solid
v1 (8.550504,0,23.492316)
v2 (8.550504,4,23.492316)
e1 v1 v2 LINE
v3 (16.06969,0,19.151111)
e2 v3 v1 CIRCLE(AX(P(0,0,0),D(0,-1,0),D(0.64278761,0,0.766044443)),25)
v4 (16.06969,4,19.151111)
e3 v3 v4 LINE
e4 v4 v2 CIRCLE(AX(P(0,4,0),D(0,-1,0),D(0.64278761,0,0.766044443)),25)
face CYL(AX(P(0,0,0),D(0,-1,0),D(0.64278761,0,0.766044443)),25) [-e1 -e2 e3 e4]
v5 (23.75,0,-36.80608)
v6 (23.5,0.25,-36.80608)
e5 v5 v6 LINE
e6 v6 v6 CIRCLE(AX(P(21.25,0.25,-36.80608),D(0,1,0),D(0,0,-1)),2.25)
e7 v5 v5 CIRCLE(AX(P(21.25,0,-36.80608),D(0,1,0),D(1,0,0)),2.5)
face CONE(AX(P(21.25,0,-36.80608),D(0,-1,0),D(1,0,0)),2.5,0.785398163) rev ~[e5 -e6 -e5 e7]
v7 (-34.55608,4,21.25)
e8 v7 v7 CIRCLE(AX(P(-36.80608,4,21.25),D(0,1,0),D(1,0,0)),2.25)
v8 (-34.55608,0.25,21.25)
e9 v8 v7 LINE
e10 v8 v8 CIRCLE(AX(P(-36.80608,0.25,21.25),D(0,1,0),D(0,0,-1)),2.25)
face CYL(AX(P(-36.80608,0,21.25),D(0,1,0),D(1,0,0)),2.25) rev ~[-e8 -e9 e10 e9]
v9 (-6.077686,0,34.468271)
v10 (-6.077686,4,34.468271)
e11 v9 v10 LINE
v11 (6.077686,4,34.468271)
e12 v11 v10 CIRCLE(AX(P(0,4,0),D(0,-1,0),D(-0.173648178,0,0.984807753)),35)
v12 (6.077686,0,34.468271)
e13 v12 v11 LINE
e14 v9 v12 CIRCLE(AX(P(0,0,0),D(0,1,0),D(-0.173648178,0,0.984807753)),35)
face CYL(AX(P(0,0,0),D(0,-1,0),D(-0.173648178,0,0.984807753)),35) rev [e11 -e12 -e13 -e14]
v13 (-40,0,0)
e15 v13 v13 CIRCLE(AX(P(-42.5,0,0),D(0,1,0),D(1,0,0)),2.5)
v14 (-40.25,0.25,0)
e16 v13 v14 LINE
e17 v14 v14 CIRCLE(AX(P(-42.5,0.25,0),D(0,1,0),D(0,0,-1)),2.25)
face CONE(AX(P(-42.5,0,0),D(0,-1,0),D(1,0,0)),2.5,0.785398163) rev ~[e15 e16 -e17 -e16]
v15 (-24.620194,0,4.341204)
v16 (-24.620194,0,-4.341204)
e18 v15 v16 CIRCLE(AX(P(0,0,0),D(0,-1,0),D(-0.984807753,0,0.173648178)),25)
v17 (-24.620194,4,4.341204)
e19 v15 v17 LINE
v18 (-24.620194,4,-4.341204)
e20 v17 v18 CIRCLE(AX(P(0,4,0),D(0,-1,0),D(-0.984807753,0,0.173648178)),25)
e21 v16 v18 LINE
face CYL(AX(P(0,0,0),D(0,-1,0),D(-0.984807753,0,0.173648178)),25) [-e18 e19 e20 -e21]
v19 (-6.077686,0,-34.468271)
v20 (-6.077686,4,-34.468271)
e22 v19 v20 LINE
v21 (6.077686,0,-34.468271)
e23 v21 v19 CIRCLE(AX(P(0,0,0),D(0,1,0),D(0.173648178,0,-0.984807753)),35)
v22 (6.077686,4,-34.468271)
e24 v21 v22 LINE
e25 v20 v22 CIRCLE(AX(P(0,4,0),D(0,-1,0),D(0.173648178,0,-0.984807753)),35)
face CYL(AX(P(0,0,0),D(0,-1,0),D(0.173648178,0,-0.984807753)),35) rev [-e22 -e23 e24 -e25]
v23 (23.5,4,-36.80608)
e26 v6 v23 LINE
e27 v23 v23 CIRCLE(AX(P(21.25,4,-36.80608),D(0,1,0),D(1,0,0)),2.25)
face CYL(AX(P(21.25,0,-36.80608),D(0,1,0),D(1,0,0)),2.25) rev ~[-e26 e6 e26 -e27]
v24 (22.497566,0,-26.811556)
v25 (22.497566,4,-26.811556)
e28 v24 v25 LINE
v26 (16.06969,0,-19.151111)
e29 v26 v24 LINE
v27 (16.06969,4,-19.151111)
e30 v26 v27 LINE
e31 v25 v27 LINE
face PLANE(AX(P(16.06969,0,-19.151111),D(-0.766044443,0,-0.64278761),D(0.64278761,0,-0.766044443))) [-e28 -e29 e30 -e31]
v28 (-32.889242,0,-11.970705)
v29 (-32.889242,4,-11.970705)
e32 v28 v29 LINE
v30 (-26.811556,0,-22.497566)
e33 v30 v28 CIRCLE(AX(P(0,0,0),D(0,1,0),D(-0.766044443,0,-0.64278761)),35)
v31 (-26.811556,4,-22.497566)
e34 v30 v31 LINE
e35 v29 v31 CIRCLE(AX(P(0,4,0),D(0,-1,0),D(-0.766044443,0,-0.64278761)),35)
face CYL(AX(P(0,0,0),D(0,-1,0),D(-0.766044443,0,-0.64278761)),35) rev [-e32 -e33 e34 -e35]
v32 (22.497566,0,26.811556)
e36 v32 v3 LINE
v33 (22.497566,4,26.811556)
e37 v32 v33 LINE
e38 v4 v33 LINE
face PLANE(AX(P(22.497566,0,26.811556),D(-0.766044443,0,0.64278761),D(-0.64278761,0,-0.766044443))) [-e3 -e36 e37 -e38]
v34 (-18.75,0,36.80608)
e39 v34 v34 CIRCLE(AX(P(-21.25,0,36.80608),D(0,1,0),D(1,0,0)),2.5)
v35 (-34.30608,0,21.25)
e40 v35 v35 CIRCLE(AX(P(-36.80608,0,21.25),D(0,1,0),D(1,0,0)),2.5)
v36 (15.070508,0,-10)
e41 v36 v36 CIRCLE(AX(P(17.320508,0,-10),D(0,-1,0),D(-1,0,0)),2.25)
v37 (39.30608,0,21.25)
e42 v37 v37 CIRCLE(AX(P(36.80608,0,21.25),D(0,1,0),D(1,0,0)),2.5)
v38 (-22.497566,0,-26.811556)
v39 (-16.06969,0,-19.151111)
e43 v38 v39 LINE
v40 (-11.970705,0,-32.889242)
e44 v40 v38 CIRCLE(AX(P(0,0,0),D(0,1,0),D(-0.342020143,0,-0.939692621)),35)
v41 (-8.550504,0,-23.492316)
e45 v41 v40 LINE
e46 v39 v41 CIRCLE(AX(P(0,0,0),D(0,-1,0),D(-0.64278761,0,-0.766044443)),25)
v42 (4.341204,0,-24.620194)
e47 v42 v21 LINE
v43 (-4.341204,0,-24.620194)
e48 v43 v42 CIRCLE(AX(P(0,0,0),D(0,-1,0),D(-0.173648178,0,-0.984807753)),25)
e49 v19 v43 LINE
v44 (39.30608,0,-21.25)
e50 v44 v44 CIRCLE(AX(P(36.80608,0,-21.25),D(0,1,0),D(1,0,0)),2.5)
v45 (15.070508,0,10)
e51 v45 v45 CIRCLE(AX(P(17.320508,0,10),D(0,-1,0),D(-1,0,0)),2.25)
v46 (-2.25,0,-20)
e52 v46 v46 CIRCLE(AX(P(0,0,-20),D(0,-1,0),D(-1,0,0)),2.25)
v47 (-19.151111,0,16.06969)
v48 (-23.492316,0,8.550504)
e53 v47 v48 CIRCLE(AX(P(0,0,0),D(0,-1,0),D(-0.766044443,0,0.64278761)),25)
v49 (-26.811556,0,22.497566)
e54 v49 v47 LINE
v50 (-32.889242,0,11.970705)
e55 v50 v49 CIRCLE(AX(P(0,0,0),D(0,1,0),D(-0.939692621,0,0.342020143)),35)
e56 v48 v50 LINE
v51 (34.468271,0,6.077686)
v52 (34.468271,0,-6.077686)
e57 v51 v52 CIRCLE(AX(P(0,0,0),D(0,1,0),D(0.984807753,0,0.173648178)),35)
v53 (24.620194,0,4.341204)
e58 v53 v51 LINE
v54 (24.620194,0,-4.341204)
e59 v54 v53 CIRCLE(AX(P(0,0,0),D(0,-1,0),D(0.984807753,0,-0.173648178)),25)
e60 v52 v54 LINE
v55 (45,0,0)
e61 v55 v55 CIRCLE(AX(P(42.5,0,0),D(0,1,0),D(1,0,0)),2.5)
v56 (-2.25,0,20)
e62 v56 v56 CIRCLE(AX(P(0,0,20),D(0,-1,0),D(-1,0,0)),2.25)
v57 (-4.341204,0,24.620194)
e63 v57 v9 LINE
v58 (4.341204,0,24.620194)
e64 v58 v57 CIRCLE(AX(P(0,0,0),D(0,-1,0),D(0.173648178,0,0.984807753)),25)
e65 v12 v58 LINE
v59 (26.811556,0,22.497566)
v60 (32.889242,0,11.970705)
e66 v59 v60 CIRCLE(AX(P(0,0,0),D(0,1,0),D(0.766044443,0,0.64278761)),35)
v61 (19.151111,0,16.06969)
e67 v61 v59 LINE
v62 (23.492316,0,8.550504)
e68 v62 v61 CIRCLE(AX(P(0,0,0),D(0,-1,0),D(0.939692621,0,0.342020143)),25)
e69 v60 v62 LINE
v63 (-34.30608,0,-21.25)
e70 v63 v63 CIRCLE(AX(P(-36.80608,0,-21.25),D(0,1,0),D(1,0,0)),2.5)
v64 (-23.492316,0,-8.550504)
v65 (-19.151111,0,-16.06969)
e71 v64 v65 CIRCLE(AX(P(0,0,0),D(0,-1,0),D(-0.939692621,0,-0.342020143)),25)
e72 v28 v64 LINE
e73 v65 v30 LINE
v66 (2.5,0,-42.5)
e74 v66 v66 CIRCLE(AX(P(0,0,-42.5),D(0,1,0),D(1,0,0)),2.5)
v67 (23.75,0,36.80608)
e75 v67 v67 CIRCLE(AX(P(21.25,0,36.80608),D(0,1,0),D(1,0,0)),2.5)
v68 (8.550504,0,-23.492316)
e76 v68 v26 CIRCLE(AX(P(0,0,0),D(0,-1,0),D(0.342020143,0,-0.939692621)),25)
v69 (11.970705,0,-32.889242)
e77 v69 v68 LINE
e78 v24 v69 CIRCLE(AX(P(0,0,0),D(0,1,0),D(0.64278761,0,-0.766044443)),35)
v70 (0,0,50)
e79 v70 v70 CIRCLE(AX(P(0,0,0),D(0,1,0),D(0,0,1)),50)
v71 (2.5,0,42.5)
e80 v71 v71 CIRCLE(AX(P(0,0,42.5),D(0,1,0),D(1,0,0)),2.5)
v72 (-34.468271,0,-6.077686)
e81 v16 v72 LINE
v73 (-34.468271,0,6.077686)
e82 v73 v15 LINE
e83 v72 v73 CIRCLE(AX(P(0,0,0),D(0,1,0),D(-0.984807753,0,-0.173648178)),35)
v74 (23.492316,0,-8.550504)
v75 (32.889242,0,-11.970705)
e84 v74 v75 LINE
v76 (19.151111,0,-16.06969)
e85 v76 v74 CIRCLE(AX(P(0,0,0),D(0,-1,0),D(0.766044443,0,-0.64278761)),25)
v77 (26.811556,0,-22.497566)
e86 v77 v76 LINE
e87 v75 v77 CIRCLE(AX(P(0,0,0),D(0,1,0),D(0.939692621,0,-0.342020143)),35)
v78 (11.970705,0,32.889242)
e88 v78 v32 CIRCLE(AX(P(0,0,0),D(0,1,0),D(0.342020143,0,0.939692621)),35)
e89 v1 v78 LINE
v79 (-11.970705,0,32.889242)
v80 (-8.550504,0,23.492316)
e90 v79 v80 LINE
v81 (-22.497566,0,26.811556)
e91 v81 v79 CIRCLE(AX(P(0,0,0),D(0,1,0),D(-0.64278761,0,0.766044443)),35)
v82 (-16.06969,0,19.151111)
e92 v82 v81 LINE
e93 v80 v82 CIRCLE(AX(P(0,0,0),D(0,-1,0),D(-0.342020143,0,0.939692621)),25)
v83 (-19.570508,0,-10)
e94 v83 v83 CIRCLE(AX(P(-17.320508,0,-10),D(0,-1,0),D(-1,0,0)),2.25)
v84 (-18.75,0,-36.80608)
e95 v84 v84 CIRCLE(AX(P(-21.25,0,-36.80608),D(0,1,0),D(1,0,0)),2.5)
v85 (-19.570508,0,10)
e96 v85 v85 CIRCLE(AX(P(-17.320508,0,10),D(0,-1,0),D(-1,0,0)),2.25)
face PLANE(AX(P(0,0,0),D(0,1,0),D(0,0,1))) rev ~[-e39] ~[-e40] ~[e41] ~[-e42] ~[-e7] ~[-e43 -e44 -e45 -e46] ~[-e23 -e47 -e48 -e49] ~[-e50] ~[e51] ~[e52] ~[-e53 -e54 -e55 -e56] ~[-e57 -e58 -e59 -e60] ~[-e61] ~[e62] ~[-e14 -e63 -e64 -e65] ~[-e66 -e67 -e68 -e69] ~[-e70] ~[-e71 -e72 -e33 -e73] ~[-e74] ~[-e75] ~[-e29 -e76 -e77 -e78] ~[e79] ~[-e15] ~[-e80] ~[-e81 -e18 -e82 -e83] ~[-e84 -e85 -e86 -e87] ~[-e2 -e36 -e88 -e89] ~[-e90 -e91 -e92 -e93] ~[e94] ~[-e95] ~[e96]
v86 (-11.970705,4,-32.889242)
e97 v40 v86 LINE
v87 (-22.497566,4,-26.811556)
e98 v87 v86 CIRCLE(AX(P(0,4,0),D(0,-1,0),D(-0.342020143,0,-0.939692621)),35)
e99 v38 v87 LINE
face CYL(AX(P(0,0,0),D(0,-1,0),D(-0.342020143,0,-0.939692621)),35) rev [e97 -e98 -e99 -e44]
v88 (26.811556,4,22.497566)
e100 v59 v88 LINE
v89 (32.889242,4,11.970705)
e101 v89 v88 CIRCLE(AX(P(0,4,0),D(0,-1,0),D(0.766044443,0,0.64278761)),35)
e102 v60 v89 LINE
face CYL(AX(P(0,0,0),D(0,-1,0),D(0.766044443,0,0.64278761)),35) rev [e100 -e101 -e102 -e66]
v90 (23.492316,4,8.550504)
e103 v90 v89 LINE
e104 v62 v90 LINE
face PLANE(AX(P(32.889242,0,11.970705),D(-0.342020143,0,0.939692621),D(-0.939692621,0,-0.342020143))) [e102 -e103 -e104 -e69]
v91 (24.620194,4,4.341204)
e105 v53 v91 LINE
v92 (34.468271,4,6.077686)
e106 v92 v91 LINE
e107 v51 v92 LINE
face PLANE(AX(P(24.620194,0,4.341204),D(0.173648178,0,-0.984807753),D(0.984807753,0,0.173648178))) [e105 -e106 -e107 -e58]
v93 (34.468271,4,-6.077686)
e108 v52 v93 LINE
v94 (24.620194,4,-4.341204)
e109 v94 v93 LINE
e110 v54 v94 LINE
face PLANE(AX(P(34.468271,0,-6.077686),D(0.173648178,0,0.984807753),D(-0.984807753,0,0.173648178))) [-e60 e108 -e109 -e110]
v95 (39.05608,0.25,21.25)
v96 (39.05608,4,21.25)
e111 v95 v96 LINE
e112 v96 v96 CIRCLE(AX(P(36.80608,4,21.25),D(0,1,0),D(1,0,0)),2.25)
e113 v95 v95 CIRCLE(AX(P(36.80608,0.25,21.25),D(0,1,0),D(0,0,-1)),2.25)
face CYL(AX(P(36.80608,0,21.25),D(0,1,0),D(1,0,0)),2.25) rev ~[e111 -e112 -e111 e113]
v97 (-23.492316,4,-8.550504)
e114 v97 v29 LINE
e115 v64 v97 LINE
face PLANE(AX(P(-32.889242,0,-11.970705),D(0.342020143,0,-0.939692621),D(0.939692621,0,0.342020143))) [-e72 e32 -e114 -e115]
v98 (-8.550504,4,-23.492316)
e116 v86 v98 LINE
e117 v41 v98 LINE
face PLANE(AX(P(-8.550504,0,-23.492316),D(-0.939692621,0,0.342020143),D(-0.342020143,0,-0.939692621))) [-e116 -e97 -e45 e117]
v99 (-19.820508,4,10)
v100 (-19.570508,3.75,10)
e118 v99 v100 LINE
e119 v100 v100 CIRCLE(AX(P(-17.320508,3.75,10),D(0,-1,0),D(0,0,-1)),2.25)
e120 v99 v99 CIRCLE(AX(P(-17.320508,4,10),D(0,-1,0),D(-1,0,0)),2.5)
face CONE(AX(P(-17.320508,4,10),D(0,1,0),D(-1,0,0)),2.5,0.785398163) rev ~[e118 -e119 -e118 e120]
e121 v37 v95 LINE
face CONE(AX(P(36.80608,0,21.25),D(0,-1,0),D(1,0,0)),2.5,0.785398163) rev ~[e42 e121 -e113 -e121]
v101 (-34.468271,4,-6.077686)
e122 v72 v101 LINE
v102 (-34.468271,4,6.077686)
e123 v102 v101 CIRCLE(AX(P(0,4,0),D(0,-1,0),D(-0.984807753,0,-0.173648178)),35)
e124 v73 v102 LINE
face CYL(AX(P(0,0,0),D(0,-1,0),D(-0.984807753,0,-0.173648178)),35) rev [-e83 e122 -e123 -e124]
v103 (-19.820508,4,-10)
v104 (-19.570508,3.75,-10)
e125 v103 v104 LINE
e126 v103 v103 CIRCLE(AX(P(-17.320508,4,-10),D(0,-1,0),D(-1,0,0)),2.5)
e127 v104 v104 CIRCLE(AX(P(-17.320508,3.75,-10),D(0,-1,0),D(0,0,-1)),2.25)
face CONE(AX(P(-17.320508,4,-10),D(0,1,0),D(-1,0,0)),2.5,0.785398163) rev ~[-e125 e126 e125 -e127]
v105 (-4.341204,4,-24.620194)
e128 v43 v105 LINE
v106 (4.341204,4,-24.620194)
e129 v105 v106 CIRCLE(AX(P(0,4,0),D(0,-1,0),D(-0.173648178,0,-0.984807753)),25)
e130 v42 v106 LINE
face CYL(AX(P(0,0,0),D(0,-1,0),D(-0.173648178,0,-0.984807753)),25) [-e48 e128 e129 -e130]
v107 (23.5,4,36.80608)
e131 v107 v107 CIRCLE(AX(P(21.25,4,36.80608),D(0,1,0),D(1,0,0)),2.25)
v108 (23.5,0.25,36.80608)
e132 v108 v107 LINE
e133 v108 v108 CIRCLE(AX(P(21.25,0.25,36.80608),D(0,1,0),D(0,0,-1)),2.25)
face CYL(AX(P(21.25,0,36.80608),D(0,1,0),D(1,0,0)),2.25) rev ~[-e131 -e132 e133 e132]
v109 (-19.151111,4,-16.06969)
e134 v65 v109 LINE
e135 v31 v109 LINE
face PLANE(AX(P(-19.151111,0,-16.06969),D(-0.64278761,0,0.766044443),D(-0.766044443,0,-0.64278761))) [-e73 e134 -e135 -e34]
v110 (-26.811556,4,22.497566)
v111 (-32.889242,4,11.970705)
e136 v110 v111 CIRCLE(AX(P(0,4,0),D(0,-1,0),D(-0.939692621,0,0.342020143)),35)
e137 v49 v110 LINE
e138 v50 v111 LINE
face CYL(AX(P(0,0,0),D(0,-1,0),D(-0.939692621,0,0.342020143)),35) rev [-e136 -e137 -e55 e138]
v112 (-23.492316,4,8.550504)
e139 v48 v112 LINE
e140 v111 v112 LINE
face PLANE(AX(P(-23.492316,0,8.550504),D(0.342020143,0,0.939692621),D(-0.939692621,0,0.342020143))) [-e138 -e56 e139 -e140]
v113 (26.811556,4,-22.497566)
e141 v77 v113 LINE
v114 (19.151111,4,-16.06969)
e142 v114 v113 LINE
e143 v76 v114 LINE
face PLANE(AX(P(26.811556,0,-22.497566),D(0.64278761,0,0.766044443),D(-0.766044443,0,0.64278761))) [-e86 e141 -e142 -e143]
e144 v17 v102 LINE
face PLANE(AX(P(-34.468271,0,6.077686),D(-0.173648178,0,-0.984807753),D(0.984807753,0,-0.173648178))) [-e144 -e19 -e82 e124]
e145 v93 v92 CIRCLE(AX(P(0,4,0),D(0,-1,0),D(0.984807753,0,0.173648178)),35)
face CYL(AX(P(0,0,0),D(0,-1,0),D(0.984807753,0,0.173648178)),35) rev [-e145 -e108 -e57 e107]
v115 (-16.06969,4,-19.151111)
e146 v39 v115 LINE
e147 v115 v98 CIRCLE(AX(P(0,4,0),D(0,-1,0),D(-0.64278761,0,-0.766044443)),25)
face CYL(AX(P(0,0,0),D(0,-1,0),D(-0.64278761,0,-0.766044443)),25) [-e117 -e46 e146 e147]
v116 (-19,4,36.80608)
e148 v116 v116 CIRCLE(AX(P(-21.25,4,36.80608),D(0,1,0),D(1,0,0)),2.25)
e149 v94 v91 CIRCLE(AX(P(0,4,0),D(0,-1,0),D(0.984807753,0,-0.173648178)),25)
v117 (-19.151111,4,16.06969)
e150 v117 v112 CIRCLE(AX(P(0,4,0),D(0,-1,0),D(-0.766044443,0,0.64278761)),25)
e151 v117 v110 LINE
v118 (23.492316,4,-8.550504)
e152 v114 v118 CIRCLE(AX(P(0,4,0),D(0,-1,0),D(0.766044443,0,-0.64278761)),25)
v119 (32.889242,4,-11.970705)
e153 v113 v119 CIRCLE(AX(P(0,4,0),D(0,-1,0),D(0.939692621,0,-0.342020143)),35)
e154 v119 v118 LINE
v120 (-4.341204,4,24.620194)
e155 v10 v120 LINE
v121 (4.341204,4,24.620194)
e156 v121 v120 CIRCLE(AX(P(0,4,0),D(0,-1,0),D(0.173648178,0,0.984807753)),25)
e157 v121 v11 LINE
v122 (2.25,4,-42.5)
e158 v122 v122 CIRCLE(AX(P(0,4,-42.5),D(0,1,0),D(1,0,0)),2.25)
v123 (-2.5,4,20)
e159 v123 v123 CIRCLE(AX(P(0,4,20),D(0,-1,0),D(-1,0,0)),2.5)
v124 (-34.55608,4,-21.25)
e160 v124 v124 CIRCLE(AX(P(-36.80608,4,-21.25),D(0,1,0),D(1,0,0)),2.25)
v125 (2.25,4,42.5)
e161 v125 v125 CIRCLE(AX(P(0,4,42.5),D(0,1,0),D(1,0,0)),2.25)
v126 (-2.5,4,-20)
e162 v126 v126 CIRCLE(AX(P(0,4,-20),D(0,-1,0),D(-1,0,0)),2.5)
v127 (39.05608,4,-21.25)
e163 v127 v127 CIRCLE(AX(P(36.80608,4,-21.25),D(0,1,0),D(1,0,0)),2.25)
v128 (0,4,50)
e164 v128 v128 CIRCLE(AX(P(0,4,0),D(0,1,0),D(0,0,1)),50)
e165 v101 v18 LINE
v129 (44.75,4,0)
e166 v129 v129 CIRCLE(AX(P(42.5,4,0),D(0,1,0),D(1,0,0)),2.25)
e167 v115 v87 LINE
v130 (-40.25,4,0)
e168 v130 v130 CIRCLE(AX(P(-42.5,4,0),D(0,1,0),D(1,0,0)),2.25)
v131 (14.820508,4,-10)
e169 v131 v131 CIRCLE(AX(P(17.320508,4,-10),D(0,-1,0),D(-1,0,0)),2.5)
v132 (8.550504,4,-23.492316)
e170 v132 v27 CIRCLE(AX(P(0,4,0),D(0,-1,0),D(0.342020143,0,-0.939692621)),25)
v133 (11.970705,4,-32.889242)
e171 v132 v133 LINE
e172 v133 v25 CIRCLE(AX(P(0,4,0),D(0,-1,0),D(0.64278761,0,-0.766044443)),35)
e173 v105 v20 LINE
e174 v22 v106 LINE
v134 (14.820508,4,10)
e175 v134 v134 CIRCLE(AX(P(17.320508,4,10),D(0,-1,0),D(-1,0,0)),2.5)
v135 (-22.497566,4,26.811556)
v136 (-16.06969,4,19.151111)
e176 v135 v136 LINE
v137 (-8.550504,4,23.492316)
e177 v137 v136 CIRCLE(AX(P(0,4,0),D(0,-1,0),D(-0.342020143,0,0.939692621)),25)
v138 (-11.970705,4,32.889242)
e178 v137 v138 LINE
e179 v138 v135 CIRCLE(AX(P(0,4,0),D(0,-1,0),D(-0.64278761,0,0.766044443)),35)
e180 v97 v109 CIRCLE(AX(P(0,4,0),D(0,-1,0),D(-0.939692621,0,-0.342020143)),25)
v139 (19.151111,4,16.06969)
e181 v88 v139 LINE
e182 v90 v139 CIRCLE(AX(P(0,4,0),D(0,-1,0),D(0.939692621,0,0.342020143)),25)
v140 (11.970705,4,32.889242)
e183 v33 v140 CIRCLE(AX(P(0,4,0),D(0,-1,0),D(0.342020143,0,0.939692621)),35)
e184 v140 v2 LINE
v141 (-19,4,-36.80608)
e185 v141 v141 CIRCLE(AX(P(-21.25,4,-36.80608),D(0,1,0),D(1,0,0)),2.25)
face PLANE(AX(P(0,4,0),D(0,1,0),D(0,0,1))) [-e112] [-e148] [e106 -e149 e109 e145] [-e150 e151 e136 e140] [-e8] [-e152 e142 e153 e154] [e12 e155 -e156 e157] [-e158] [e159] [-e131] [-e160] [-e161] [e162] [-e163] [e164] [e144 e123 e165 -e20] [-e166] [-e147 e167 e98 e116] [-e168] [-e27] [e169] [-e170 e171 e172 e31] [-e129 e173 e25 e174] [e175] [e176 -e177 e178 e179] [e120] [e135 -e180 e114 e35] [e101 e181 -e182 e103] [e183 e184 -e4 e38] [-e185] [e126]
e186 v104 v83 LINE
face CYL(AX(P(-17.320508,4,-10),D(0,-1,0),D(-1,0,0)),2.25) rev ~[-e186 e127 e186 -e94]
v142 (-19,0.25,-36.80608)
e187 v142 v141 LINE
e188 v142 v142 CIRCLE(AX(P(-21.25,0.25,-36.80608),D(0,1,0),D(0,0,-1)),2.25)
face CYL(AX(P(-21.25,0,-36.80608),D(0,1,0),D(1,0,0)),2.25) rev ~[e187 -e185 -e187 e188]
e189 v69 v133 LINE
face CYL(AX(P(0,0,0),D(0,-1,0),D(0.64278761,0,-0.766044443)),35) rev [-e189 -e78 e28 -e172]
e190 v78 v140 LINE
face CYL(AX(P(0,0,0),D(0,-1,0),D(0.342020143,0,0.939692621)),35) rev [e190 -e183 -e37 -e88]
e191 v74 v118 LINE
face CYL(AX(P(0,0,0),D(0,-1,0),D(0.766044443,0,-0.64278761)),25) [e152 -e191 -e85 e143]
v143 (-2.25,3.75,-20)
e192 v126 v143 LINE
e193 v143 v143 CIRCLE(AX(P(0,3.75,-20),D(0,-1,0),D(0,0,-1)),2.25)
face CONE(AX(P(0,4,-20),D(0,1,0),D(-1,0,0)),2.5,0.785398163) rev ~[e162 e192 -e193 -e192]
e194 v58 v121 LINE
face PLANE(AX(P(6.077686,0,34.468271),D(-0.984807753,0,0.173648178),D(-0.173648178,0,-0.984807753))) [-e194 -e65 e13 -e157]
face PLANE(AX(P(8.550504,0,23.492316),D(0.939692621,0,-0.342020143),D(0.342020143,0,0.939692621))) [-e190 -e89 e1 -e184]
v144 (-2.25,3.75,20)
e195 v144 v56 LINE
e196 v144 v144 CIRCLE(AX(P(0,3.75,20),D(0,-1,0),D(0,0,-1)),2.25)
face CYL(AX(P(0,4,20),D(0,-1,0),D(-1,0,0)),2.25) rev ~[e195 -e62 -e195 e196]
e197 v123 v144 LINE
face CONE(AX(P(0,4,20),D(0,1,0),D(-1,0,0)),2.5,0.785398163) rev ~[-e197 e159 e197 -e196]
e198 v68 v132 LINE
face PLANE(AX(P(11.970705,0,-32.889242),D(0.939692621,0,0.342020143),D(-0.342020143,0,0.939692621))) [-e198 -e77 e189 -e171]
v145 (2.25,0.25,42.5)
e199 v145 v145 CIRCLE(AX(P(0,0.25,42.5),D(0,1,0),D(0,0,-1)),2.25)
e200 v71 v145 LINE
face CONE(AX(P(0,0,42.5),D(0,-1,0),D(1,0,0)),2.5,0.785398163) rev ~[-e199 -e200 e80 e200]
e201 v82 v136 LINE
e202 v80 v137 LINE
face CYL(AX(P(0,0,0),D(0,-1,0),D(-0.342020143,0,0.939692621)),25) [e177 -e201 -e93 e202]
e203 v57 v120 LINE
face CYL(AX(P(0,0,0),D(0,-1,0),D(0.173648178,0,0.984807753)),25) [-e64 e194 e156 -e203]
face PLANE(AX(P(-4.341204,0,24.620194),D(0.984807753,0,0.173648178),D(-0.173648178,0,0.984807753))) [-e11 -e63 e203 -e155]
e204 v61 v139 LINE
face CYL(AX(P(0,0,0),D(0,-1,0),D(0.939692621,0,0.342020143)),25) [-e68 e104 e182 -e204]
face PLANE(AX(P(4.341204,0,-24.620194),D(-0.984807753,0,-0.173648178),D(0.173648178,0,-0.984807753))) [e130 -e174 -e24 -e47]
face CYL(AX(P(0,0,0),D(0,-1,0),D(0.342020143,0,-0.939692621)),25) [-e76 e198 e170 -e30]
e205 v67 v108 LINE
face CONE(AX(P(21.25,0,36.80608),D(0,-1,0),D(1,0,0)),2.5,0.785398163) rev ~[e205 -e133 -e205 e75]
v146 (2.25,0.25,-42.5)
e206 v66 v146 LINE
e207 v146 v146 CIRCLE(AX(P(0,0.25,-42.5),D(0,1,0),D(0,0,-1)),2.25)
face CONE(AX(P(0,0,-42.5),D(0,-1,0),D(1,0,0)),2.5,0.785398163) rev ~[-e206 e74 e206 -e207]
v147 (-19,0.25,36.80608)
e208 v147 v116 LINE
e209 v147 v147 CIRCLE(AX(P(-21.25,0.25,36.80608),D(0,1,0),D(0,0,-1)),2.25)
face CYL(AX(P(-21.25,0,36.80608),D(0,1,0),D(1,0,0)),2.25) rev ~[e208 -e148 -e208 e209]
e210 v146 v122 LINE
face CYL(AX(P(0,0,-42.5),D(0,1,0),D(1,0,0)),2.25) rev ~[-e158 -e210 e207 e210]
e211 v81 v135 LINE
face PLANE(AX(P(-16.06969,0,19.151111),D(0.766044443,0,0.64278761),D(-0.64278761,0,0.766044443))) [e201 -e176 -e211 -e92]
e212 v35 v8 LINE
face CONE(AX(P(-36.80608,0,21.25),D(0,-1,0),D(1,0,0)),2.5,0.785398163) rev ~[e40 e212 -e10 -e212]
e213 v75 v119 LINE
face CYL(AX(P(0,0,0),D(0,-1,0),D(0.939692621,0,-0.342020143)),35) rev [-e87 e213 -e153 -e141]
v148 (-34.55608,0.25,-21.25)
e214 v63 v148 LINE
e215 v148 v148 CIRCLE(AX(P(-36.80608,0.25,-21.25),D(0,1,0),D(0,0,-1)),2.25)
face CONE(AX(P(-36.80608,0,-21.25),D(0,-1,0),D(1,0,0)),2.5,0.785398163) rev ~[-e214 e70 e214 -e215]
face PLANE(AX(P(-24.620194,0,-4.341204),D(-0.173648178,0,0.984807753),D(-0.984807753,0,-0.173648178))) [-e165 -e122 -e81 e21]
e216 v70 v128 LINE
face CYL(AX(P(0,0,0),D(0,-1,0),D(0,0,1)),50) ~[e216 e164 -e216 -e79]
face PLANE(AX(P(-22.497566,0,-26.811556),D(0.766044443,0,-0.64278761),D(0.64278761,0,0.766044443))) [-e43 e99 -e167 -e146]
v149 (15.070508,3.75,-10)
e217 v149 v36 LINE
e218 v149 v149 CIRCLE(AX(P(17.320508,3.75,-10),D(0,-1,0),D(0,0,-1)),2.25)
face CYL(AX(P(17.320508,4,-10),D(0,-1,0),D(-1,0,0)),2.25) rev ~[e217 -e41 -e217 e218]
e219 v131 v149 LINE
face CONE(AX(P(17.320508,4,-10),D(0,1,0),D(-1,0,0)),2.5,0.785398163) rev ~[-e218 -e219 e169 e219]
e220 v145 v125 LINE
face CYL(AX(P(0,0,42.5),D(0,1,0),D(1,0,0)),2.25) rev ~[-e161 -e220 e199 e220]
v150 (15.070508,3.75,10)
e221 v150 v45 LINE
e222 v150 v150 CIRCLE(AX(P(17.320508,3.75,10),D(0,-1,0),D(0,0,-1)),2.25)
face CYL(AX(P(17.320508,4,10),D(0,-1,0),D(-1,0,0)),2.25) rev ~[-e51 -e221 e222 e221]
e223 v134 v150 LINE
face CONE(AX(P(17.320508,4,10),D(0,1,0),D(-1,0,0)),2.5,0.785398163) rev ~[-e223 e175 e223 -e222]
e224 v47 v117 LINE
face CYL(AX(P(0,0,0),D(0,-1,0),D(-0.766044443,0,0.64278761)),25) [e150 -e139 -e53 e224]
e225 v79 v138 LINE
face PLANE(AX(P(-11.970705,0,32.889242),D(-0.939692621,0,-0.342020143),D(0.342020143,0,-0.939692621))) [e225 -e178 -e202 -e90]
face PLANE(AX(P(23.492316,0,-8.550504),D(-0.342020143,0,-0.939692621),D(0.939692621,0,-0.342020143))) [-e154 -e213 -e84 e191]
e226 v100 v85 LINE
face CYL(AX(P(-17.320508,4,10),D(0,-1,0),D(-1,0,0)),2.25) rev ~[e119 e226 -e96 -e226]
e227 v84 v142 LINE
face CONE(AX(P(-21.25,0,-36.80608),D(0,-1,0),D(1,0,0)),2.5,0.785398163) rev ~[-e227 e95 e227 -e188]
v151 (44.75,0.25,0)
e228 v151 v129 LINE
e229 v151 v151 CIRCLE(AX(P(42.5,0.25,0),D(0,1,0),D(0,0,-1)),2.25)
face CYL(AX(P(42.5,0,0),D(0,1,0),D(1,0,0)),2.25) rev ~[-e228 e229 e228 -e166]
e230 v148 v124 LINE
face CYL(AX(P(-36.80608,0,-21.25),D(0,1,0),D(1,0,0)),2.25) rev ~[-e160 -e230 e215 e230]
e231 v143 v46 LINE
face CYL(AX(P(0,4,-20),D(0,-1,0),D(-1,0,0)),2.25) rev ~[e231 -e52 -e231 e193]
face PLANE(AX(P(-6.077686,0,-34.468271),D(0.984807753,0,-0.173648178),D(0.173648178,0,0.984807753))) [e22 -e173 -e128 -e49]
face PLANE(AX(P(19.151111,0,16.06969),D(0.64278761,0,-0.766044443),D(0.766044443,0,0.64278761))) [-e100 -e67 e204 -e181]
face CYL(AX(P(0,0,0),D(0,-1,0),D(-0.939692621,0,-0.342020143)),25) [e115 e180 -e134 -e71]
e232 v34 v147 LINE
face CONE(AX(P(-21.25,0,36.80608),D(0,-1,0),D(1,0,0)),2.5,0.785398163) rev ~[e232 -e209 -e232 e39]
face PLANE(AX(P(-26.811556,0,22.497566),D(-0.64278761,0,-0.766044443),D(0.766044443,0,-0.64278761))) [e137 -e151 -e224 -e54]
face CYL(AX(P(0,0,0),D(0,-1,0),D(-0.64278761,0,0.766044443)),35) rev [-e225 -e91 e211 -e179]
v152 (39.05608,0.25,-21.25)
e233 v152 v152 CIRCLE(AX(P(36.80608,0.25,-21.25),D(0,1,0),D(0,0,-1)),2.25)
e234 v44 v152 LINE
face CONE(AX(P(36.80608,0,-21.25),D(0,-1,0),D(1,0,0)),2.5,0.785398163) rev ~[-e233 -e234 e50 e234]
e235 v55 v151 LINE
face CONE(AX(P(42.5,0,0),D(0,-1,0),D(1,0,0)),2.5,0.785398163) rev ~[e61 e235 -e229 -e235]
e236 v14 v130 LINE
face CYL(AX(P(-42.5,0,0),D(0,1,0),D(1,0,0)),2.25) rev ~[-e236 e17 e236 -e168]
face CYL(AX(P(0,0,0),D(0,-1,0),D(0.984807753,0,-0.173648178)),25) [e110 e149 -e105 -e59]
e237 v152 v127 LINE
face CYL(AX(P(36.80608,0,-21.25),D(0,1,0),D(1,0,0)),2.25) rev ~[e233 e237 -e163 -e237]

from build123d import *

# Parameters (mm, degrees)
SKETCH_1_R                  = 50
EXTRUDE_1_DEPTH             = 4
CUT_EXTRUDE_2_DEPTH         = 71.823724839
HOLE_WIZARD_M41_D           = 4.5
HOLE_WIZARD_M41_CSINK_D     = 5
HOLE_WIZARD_M41_CSINK_ANGLE = 90
HOLE_WIZARD_M42_D           = 4.5
HOLE_WIZARD_M42_CSINK_D     = 5
HOLE_WIZARD_M42_CSINK_ANGLE = 90


with BuildPart() as part:
    # Эскиз1 → Бобышка-Вытянуть1 (new body)
    with BuildSketch(Plane(origin=(0, 0, 0), x_dir=(1, 0, 0), z_dir=(0, 1, 0))):
        with Locations(Location((0, 0, 0), (0, 0, 270))):
            Circle(SKETCH_1_R)
    extrude(amount=EXTRUDE_1_DEPTH)

    # Эскиз2 → Вырез-Вытянуть2 (cut, through all)
    with BuildSketch(Plane(origin=(0, 0, 0), x_dir=(1, 0, 0), z_dir=(0, 1, 0))):
        with BuildLine():
            Line((8.550503583, -23.49231552), (11.970705016, -32.889241728))
            ThreePointArc((11.970705016, -32.889241728), (17.5, -30.310889132), (22.497566339, -26.811555509))
            Line((22.497566339, -26.811555509), (16.069690242, -19.151111078))
            ThreePointArc((16.069690242, -19.151111078), (12.5, -21.650635095), (8.550503583, -23.49231552))
        make_face()
        with BuildLine():
            Line((-4.341204442, -24.620193825), (-6.077686218, -34.468271355))
            ThreePointArc((-6.077686218, -34.468271355), (0, -35), (6.077686218, -34.468271355))
            Line((6.077686218, -34.468271355), (4.341204442, -24.620193825))
            ThreePointArc((4.341204442, -24.620193825), (0, -25), (-4.341204442, -24.620193825))
        make_face()
        with BuildLine():
            Line((23.49231552, 8.550503583), (32.889241728, 11.970705016))
            ThreePointArc((32.889241728, 11.970705016), (30.310889132, 17.5), (26.811555509, 22.497566339))
            Line((26.811555509, 22.497566339), (19.151111078, 16.069690242))
            ThreePointArc((19.151111078, 16.069690242), (21.650635095, 12.5), (23.49231552, 8.550503583))
        make_face()
        with BuildLine():
            Line((24.620193825, -4.341204442), (34.468271355, -6.077686218))
            ThreePointArc((34.468271355, -6.077686218), (35, 0), (34.468271355, 6.077686218))
            Line((34.468271355, 6.077686218), (24.620193825, 4.341204442))
            ThreePointArc((24.620193825, 4.341204442), (25, 0), (24.620193825, -4.341204442))
        make_face()
        with BuildLine():
            Line((19.151111078, -16.069690242), (26.811555509, -22.497566339))
            ThreePointArc((26.811555509, -22.497566339), (30.310889132, -17.5), (32.889241728, -11.970705016))
            Line((32.889241728, -11.970705016), (23.49231552, -8.550503583))
            ThreePointArc((23.49231552, -8.550503583), (21.650635095, -12.5), (19.151111078, -16.069690242))
        make_face()
        with BuildLine():
            Line((-8.550503583, 23.49231552), (-11.970705016, 32.889241728))
            ThreePointArc((-11.970705016, 32.889241728), (-17.5, 30.310889132), (-22.497566339, 26.811555509))
            Line((-22.497566339, 26.811555509), (-16.069690242, 19.151111078))
            ThreePointArc((-16.069690242, 19.151111078), (-12.5, 21.650635095), (-8.550503583, 23.49231552))
        make_face()
        with BuildLine():
            Line((4.341204442, 24.620193825), (6.077686218, 34.468271355))
            ThreePointArc((6.077686218, 34.468271355), (0, 35), (-6.077686218, 34.468271355))
            Line((-6.077686218, 34.468271355), (-4.341204442, 24.620193825))
            ThreePointArc((-4.341204442, 24.620193825), (0, 25), (4.341204442, 24.620193825))
        make_face()
        with BuildLine():
            Line((16.069690242, 19.151111078), (22.497566339, 26.811555509))
            ThreePointArc((22.497566339, 26.811555509), (17.5, 30.310889132), (11.970705016, 32.889241728))
            Line((11.970705016, 32.889241728), (8.550503583, 23.49231552))
            ThreePointArc((8.550503583, 23.49231552), (12.5, 21.650635095), (16.069690242, 19.151111078))
        make_face()
        with BuildLine():
            Line((-16.069690242, -19.151111078), (-22.497566339, -26.811555509))
            ThreePointArc((-22.497566339, -26.811555509), (-17.5, -30.310889132), (-11.970705016, -32.889241728))
            Line((-11.970705016, -32.889241728), (-8.550503583, -23.49231552))
            ThreePointArc((-8.550503583, -23.49231552), (-12.5, -21.650635095), (-16.069690242, -19.151111078))
        make_face()
        with BuildLine():
            Line((-23.49231552, -8.550503583), (-32.889241728, -11.970705016))
            ThreePointArc((-32.889241728, -11.970705016), (-30.310889132, -17.5), (-26.811555509, -22.497566339))
            Line((-26.811555509, -22.497566339), (-19.151111078, -16.069690242))
            ThreePointArc((-19.151111078, -16.069690242), (-21.650635095, -12.5), (-23.49231552, -8.550503583))
        make_face()
        with BuildLine():
            Line((-24.620193825, 4.341204442), (-34.468271355, 6.077686218))
            ThreePointArc((-34.468271355, 6.077686218), (-35, 0), (-34.468271355, -6.077686218))
            Line((-34.468271355, -6.077686218), (-24.620193825, -4.341204442))
            ThreePointArc((-24.620193825, -4.341204442), (-25, 0), (-24.620193825, 4.341204442))
        make_face()
        with BuildLine():
            Line((-19.151111078, 16.069690242), (-26.811555509, 22.497566339))
            ThreePointArc((-26.811555509, 22.497566339), (-30.310889132, 17.5), (-32.889241728, 11.970705016))
            Line((-32.889241728, 11.970705016), (-23.49231552, 8.550503583))
            ThreePointArc((-23.49231552, 8.550503583), (-21.650635095, 12.5), (-19.151111078, 16.069690242))
        make_face()
    extrude(amount=CUT_EXTRUDE_2_DEPTH, mode=Mode.SUBTRACT)

    # Отверстие с зазором M41 (through all)
    with Locations(Plane(origin=(0, 0, 0), x_dir=(-1, 0, 0), z_dir=(0, -1, 0))):
        with Locations((0, 42.5), (21.25, 36.806079661), (36.806079661, 21.25), (42.5, 0), (36.806079661, -21.25), (21.25, -36.806079661), (0, -42.5), (-21.25, -36.806079661), (-36.806079661, -21.25), (-42.5, 0), (-36.806079661, 21.25), (-21.25, 36.806079661)):
            CounterSinkHole(HOLE_WIZARD_M41_D / 2, HOLE_WIZARD_M41_CSINK_D / 2, counter_sink_angle=HOLE_WIZARD_M41_CSINK_ANGLE)

    # Отверстие с зазором M42 (through all)
    with Locations(Plane(origin=(0, 4, 0), x_dir=(1, 0, 0), z_dir=(0, 1, 0))):
        with Locations((-17.320508076, 10), (0, 20), (17.320508076, 10), (17.320508076, -10), (0, -20), (-17.320508076, -10)):
            CounterSinkHole(HOLE_WIZARD_M42_D / 2, HOLE_WIZARD_M42_CSINK_D / 2, counter_sink_angle=HOLE_WIZARD_M42_CSINK_ANGLE)


solid = part.part
